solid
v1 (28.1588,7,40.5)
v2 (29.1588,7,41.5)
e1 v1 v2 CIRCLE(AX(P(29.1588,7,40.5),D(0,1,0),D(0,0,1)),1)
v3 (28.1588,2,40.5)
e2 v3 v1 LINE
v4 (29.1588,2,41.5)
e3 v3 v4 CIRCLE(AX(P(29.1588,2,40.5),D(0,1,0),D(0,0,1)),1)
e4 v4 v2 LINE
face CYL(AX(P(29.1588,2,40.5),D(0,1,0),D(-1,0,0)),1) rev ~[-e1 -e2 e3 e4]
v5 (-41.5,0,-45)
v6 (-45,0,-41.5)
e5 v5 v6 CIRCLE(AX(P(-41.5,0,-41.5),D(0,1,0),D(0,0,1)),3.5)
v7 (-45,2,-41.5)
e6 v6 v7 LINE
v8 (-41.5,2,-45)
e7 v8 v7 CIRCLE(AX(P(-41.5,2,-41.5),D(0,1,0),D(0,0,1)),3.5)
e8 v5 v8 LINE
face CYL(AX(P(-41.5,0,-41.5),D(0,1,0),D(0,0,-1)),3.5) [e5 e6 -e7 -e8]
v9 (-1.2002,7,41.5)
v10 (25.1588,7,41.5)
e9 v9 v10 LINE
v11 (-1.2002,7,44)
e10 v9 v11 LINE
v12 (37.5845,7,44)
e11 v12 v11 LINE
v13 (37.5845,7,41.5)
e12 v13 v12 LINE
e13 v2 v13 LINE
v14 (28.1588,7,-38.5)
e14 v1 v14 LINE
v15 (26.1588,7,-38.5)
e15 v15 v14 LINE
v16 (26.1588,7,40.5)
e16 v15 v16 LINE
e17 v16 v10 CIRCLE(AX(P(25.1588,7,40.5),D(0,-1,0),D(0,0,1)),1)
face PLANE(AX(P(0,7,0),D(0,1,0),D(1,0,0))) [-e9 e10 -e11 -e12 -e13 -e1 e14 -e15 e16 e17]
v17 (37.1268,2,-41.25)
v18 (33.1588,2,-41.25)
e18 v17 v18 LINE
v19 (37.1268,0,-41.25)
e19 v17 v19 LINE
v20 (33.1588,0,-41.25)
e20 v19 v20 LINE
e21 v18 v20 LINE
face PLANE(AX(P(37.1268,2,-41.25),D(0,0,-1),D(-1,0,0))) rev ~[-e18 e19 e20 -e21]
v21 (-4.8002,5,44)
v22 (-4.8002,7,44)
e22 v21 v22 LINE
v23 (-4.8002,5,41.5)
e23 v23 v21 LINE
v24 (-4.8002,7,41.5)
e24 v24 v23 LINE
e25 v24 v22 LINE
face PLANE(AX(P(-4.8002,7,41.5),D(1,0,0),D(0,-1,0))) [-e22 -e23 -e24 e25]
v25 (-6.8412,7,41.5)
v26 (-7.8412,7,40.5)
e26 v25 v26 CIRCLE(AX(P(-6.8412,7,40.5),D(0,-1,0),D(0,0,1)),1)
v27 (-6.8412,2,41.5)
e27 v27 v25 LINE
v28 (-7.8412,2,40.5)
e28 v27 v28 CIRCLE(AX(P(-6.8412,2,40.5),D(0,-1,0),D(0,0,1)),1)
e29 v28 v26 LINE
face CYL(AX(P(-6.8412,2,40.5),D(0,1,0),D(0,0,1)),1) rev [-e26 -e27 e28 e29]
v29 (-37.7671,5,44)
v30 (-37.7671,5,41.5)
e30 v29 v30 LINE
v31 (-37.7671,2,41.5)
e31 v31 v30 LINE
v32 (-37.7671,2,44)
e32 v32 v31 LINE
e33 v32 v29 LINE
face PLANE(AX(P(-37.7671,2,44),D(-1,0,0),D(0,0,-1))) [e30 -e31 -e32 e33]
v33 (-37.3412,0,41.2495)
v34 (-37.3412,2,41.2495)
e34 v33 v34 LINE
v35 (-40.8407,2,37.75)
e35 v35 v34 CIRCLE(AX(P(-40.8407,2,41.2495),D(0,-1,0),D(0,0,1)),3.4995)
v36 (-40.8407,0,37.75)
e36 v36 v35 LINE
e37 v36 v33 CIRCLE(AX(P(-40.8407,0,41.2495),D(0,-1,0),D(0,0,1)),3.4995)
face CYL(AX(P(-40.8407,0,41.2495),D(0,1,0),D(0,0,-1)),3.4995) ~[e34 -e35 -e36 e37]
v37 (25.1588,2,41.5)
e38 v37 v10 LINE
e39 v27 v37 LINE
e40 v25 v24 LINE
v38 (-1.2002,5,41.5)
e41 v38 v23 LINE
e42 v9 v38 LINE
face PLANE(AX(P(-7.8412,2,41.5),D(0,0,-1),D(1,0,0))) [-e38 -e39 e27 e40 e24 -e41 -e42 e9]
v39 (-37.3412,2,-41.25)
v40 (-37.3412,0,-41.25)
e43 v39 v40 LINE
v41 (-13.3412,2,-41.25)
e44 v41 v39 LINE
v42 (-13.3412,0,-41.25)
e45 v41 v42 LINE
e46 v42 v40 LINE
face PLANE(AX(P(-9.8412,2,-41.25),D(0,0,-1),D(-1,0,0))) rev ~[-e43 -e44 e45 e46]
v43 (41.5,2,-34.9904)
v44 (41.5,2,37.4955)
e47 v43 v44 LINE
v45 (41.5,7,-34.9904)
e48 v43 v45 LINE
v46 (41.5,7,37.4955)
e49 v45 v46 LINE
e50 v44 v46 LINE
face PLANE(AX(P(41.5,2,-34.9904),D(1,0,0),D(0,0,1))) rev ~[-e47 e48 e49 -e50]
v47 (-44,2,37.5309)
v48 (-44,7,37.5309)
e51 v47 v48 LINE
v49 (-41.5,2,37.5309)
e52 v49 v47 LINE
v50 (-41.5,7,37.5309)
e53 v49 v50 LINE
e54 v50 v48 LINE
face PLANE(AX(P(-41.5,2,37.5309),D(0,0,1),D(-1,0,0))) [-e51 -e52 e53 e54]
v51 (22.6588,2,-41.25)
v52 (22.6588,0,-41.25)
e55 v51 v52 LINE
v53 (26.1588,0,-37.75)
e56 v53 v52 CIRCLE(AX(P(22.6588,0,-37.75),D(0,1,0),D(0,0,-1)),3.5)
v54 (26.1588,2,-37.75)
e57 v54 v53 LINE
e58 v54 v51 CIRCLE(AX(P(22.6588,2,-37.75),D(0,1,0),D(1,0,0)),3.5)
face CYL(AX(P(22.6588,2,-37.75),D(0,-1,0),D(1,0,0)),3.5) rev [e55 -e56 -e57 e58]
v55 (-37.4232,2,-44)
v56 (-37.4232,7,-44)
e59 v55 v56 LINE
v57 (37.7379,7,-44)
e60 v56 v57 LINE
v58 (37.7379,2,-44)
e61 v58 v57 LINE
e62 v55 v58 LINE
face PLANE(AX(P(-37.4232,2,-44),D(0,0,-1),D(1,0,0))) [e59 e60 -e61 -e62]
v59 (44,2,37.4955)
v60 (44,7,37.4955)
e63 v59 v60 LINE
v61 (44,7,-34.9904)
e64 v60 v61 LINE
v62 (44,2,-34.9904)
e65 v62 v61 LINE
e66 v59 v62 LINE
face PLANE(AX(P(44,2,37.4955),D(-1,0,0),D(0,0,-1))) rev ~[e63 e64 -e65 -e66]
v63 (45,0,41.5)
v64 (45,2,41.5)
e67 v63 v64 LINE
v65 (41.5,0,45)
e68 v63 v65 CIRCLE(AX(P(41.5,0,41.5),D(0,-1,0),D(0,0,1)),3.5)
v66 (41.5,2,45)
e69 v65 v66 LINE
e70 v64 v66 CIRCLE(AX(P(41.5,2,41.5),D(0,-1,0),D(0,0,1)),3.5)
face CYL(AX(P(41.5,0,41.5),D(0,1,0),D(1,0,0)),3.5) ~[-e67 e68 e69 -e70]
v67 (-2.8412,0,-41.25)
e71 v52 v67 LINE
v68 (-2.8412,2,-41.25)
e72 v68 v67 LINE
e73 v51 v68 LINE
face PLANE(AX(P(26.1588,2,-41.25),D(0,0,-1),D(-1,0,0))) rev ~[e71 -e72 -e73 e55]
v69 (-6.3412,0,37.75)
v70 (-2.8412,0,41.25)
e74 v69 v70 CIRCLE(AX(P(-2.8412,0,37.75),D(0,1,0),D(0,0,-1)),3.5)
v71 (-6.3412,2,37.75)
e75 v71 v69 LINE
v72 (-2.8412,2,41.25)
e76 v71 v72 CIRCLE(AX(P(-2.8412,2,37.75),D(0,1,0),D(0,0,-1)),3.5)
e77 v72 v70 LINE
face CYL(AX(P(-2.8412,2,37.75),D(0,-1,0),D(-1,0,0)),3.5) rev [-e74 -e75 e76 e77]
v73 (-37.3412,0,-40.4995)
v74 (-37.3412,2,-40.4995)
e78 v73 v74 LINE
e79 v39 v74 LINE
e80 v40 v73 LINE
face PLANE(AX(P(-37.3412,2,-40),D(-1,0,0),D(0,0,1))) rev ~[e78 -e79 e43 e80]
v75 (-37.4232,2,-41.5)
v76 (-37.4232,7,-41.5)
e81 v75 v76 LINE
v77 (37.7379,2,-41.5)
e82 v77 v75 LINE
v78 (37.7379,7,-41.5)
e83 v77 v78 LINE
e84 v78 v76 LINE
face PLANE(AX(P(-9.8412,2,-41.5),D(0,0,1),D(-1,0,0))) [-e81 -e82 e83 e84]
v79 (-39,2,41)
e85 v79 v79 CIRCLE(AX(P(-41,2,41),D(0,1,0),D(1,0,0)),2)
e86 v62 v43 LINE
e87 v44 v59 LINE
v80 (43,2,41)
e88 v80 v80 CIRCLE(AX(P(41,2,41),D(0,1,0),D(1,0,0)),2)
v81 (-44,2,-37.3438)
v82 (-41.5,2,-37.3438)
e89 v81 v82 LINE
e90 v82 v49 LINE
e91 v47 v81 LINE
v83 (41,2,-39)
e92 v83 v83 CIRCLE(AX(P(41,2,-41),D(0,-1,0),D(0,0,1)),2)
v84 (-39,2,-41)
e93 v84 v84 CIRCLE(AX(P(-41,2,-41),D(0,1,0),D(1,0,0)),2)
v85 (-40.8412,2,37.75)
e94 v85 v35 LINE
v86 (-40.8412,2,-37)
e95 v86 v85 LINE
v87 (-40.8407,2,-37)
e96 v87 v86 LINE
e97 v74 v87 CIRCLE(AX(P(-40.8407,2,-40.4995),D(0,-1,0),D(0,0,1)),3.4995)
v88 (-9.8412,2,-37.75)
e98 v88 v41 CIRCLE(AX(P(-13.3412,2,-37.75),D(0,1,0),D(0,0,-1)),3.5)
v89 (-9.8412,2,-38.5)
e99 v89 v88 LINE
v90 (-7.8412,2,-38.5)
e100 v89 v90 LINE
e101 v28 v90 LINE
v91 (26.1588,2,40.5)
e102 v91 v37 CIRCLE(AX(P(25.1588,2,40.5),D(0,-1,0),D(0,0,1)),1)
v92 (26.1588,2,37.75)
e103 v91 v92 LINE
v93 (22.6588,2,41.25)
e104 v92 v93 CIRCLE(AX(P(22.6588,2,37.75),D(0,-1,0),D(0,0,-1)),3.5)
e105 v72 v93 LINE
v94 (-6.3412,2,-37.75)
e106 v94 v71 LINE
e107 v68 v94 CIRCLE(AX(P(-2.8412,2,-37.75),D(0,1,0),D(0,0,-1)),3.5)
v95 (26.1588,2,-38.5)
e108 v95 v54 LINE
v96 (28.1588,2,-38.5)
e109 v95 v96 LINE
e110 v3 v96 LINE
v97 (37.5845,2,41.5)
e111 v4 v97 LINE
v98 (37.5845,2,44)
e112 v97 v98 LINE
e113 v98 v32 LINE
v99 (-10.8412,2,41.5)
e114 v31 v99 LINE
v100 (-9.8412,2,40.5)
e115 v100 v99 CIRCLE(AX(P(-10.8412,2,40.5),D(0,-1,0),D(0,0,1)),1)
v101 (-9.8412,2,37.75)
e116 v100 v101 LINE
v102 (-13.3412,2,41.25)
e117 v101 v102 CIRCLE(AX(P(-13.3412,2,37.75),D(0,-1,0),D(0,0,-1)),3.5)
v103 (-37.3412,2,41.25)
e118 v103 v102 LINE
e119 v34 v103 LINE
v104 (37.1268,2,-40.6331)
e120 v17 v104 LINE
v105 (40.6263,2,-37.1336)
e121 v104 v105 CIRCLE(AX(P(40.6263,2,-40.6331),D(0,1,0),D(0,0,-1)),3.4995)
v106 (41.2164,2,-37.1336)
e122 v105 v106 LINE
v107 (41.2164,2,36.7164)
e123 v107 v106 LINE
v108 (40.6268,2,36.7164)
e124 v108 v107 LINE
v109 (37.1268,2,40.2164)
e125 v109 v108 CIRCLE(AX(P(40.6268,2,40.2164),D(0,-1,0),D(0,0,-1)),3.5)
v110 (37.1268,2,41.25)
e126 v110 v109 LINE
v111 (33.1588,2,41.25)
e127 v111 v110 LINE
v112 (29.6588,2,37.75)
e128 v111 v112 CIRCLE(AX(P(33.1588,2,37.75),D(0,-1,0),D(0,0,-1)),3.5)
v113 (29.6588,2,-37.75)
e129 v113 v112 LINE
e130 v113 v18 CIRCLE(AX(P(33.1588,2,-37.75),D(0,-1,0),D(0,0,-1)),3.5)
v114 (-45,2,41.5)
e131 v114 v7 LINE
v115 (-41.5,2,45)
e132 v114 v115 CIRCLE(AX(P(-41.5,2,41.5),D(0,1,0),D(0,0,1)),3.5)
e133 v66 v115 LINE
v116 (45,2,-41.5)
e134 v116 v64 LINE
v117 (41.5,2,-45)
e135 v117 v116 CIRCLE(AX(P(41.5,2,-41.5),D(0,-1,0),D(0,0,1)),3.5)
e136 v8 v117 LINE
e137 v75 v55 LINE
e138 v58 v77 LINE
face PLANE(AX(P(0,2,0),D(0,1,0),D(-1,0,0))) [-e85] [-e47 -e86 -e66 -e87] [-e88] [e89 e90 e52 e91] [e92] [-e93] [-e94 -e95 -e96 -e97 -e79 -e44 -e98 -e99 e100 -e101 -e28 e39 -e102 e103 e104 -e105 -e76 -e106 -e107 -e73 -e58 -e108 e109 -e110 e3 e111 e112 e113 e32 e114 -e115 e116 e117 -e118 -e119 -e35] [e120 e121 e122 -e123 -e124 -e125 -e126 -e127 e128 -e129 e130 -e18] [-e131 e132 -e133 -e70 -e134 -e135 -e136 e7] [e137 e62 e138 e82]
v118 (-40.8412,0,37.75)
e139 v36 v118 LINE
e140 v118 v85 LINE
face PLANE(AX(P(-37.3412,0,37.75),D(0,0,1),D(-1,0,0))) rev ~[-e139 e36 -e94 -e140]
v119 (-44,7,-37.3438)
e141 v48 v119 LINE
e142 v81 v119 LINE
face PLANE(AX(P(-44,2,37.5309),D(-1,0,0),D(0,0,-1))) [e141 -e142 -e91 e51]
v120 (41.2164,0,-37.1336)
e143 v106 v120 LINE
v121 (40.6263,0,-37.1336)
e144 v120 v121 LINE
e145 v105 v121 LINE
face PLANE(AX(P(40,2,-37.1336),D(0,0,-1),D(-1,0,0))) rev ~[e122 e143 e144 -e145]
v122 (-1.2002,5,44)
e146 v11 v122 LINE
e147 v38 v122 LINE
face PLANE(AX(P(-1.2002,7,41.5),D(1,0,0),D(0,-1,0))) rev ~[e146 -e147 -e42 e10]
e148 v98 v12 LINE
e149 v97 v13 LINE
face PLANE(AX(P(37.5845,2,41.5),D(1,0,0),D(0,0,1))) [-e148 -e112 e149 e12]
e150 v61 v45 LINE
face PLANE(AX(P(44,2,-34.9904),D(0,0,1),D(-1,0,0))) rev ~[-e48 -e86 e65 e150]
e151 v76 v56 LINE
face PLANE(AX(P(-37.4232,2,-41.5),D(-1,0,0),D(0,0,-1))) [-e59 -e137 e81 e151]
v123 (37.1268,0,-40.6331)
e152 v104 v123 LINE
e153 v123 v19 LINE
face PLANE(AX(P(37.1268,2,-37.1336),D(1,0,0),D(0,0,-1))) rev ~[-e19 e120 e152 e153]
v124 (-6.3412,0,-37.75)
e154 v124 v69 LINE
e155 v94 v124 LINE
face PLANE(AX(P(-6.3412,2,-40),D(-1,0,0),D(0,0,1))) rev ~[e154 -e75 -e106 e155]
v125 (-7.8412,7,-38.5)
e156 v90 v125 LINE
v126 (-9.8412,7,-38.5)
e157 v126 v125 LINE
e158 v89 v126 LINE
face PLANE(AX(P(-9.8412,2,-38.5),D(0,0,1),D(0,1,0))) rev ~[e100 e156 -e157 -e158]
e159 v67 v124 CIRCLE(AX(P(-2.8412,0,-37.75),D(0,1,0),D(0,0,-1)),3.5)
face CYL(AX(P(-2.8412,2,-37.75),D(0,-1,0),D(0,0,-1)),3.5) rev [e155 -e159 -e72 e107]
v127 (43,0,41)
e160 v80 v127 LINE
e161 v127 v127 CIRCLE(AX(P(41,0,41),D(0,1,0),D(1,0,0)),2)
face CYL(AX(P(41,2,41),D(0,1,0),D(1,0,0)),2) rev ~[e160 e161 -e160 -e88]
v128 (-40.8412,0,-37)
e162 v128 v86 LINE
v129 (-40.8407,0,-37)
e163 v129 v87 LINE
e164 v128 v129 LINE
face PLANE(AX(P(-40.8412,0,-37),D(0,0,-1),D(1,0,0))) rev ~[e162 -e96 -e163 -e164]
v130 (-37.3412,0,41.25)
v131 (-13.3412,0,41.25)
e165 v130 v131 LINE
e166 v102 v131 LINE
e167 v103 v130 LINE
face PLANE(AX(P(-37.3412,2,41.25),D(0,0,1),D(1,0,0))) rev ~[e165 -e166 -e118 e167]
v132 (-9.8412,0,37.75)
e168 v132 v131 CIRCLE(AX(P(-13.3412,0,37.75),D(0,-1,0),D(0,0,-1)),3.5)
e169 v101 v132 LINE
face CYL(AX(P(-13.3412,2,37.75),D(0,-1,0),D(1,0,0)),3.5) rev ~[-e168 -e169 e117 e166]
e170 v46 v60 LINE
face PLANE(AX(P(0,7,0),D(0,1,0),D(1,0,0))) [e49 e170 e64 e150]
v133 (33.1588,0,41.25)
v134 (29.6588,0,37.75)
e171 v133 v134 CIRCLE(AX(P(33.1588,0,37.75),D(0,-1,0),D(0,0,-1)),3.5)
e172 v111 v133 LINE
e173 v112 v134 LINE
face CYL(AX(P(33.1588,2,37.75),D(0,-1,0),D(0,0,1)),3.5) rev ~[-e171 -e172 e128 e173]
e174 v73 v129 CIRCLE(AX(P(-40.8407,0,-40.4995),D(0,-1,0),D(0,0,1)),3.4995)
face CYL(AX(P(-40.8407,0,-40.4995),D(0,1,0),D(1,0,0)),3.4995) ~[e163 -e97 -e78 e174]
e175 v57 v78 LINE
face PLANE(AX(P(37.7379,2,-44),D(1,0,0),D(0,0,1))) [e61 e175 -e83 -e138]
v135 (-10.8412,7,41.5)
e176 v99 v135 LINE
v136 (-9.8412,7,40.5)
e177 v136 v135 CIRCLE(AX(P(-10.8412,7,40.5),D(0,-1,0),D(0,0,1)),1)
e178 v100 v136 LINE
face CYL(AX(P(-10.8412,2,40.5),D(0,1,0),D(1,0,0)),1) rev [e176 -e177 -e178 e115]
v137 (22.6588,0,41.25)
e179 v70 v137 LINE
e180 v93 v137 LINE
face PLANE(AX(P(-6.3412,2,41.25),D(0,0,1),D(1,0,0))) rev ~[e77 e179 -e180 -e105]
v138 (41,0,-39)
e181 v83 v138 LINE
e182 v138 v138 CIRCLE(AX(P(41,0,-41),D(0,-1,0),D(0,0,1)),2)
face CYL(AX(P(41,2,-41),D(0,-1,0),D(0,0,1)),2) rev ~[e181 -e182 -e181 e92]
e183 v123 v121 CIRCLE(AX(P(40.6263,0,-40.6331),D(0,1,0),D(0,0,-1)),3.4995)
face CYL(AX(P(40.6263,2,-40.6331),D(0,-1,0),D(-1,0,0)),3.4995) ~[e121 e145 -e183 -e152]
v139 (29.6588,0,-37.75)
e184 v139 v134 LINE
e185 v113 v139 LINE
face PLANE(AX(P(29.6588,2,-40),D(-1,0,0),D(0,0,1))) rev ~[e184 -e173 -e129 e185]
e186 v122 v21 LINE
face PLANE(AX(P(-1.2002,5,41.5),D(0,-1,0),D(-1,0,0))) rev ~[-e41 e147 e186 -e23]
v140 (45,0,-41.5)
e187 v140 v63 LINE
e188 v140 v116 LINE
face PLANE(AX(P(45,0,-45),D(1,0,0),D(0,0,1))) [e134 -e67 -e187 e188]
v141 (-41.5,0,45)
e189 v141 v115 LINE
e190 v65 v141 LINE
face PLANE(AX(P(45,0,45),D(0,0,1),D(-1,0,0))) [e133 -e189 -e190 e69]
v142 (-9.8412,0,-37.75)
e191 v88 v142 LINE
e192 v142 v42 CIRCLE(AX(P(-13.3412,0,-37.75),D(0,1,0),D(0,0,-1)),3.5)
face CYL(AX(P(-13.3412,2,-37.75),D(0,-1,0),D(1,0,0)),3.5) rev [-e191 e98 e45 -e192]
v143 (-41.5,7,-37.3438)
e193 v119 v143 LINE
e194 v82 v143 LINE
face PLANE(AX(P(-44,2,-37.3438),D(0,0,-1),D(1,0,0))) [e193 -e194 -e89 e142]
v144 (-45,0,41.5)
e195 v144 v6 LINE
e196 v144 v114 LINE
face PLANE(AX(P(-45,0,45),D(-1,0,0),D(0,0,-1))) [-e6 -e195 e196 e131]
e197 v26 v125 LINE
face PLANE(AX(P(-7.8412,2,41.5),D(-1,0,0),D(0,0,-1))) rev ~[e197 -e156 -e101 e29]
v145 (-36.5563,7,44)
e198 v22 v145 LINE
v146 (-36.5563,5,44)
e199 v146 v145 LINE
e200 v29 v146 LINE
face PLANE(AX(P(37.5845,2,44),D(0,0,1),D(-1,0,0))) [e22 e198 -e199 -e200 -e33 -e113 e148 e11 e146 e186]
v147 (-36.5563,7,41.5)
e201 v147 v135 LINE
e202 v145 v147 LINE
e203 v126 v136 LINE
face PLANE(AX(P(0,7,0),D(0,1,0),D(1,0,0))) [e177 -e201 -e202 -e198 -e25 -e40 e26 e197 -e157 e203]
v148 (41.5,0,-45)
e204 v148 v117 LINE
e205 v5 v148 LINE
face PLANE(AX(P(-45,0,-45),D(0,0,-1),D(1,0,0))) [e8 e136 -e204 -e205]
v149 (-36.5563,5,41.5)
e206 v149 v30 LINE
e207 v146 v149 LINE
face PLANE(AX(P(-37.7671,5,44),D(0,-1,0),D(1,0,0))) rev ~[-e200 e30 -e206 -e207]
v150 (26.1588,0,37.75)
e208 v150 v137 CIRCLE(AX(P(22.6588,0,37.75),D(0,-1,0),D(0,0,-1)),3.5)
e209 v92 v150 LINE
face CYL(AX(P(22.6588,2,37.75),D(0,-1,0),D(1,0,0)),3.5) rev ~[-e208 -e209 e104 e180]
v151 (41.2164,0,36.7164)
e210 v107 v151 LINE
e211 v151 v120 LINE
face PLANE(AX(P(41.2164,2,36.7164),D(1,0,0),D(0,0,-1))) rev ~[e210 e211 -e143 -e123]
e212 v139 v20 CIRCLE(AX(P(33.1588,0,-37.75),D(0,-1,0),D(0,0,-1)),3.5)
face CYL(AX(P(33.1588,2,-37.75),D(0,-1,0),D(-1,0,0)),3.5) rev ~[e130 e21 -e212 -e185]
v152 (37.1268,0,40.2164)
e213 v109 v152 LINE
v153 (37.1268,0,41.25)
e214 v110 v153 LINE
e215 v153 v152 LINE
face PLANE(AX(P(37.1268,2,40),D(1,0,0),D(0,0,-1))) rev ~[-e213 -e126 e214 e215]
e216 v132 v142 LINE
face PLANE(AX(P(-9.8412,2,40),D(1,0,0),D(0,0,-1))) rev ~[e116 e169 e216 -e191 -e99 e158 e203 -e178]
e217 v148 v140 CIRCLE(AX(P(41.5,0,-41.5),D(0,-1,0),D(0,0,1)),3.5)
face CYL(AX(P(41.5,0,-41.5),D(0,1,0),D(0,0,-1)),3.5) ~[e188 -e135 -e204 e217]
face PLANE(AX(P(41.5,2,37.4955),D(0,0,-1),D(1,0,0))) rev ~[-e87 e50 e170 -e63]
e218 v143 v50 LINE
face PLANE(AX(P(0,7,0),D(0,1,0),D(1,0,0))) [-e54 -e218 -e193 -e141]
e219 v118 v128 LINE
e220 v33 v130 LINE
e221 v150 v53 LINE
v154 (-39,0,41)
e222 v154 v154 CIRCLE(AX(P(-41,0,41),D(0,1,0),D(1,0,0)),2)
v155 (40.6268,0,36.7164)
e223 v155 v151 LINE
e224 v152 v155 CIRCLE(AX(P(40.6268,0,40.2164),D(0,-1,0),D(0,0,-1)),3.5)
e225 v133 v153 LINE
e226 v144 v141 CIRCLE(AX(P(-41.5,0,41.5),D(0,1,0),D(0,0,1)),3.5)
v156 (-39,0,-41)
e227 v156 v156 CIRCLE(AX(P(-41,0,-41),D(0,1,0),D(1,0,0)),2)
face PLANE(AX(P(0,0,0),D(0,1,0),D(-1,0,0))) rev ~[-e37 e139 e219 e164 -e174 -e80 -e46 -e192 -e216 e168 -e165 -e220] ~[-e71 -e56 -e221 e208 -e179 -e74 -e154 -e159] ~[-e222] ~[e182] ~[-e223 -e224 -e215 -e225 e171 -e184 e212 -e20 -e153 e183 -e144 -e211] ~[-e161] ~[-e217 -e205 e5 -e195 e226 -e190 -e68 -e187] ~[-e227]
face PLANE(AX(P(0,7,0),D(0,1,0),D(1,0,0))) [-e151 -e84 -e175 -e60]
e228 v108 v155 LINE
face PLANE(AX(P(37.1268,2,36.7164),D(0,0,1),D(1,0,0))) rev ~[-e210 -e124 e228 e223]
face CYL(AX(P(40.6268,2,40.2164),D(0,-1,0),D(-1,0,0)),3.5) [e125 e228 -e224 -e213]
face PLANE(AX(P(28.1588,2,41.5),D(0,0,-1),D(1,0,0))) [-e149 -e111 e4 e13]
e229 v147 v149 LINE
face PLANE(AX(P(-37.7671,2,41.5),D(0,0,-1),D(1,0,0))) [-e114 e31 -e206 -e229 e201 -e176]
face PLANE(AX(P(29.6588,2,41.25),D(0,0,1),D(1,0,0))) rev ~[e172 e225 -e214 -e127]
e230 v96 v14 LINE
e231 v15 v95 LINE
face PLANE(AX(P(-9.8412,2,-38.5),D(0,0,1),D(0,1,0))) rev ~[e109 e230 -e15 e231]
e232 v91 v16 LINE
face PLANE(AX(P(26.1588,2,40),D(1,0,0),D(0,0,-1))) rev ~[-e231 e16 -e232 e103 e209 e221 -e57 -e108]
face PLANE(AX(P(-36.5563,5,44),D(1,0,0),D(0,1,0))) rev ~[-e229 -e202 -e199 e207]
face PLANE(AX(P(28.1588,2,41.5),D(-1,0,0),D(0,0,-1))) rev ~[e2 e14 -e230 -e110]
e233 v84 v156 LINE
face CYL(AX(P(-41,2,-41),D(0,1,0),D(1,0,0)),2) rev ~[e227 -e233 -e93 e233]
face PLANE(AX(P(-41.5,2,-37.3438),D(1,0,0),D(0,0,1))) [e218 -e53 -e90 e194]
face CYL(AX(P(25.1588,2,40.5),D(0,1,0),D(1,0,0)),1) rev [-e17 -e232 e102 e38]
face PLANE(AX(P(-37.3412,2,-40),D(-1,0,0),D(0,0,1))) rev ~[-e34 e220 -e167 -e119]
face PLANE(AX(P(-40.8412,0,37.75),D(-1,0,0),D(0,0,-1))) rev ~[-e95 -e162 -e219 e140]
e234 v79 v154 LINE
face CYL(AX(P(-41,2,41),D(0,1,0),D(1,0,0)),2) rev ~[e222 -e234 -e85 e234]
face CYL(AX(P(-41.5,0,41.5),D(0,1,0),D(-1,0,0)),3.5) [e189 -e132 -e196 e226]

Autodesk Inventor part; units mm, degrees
ref_plane "YZ Plane" through (0, 0, 0) normal (1, 0, 0) x (0, 1, 0)
ref_plane "XZ Plane" through (0, 0, 0) normal (0, 1, 0) x (-1, 0, 0)
ref_plane "XY Plane" through (0, 0, 0) normal (0, 0, 1) x (1, 0, 0)
sketch "Sketch1" plane through (0, 0, 0) normal (0, 1, 0) x (-1, 0, 0)
  line L0 (45, -45) -> (-45, -45)
  line L1 (-45, -45) -> (-45, 45)
  line L2 (-45, 45) -> (45, 45)
  line L3 (45, 45) -> (45, -45)
  line L4 (45, -45) -> (-45, 45) construction
  line L5 (-45, -45) -> (45, 45) construction
  point P0 (0, 0)
  dimension "d2" = 90
  dimension "d3" = 90
extrude "Extrusion1" add sketch "Sketch1" along normal blind 2
sketch "Sketch2" plane through (0, 2, 0) normal (0, 1, 0) x (1, 0, 0)
  line L0 (45, -45) -> (45, 45) projected
  line L1 (45, 45) -> (41, 45)
  line L2 (45, 45) -> (-45, 45) projected
  circle A0 centre (41, 41) radius 2
  point P0 (0, 0)
hole "Hole1" at (41, 2, -41) direction (0, -1, 0) diameter 4 end through all
sketch "Sketch3" plane through (0, 2, 0) normal (0, 1, 0) x (1, 0, 0)
  circle A0 centre (-41, 41) radius 2
  line L0 (-45, 45) -> (-45, -45) projected
  circle A1 centre (-41, -41) radius 2
  line L1 (45, -45) -> (45, 45) projected
  circle A2 centre (41, -41) radius 2
  point P0 (0, 0)
  dimension "d17" = 4
  dimension "d21" = 4
extrude "Extrusion2" cut sketch "Sketch3" against normal blind 2
fillet "Fillet1" radius 3.5 4 edges at (-45, 1, -45) (45, 1, -45) (45, 1, 45) (-45, 1, 45)
sketch "Sketch5" plane through (0, 2, 0) normal (0, 1, 0) x (1, 0, 0)
  line L0 (40, 40) -> (-40, 40)
  line L1 (-40, 40) -> (-40, -40)
  line L2 (-40, -40) -> (40, -40)
  line L3 (40, -40) -> (40, 40)
  line L4 (40, 40) -> (-40, -40) construction
  line L5 (-40, 40) -> (40, -40) construction
  line L6 (-9.8412, 41.25) -> (-37.3412, 41.25)
  line L7 (-37.3412, 41.25) -> (-37.3412, -41.25)
  line L8 (-37.3412, -41.25) -> (-9.8412, -41.25)
  line L9 (-9.8412, -41.25) -> (-9.8412, 41.25)
  line L10 (-9.8412, 41.25) -> (-37.3412, -41.25) construction
  line L11 (-37.3412, 41.25) -> (-9.8412, -41.25) construction
  line L12 (26.1588, 41.25) -> (-6.3412, 41.25)
  line L13 (-6.3412, 41.25) -> (-6.3412, -41.25)
  line L14 (-6.3412, -41.25) -> (26.1588, -41.25)
  line L15 (26.1588, -41.25) -> (26.1588, 41.25)
  line L16 (26.1588, 41.25) -> (-6.3412, -41.25) construction
  line L17 (-6.3412, 41.25) -> (26.1588, -41.25) construction
  line L18 (37.1268, 41.25) -> (29.6588, 41.25)
  line L19 (29.6588, 41.25) -> (29.6588, -41.25)
  line L20 (29.6588, -41.25) -> (37.1268, -41.25)
  line L21 (37.1268, -41.25) -> (37.1268, 41.25)
  line L22 (37.1268, 41.25) -> (29.6588, -41.25) construction
  line L23 (29.6588, 41.25) -> (37.1268, -41.25) construction
  line L24 (-41.5049, 41.25) -> (-37.5049, 41.25)
  line L25 (41.2164, 37.1336) -> (36.7164, 37.1336)
  line L26 (36.7164, 37.1336) -> (36.7164, -36.7164)
  line L27 (36.7164, -36.7164) -> (41.2164, -36.7164)
  line L28 (41.2164, -36.7164) -> (41.2164, 37.1336)
  line L29 (41.2164, 37.1336) -> (36.7164, -36.7164) construction
  line L30 (36.7164, 37.1336) -> (41.2164, -36.7164) construction
  line L31 (37.1268, 41.25) -> (41.1268, 41.25)
  line L32 (41.1268, 41.25) -> (41.1268, 37.25)
  point P0 (0, 0)
  point P1 (-23.5912, 0)
  point P2 (9.9088, 0)
  point P3 (33.3928, 0)
  point P4 (38.9664, 0.2086)
  point P5 (37.1268, 37.1336)
  point P6 (37.1268, 40)
  point P7 (29.6588, 40)
  point P8 (29.6588, -40)
  point P9 (37.1268, -40)
  point P10 (37.1268, -36.7164)
  dimension "d25" = 80
  dimension "d26" = 80
  dimension "d27" = 27.5
  dimension "d28" = 82.5
  dimension "d29" = 32.5
  dimension "d30" = 82.5
  dimension "d31" = 7.468
  dimension "d32" = 82.5
  dimension "d33" = 4
  dimension "d34" = 3.5
  dimension "d35" = 3.5
  dimension "d36" = 4.5
  dimension "d37" = 4
  dimension "d38" = 4
  dimension "d39" = 73.85
extrude "Extrusion4" cut sketch "Sketch5" against normal through all contours L21 L25 L26 L27 L2 L19 L0 | L0 L19 L18 L21 | L25 L28 L27 L3 | L3 L27 L21 L25 | L21 L27 L26 L25 | L15 L2 L13 L0 | L0 L13 L12 L15 | L2 L21 L20 L19 | L15 L14 L13 L2 | L9 L2 L7 L0 | L0 L7 L6 L9 | L9 L8 L7 L2
sketch "Sketch8" plane through (0, 2, 0) normal (0, 1, 0) x (1, 0, 0)
  line L0 (-45, 41.5) -> (-45, -41.5) projected
  line L1 (-45, 41.5) -> (-44, 41.5)
  line L2 (41.5, 45) -> (-41.5, 45) projected
  line L3 (-41.5, 45) -> (-41.5, 44)
  line L4 (-45, -41.5) -> (-44, -41.5)
  arc A0 (-45, -41.5) -> (-41.5, -45) centre (-41.5, -41.5) ccw projected
  line L5 (-41.5, -45) -> (-41.5, -44)
  line L6 (41.5, -45) -> (41.5, -44)
  arc A1 (41.5, -45) -> (45, -41.5) centre (41.5, -41.5) ccw projected
  line L7 (45, -41.5) -> (44, -41.5)
  arc A2 (45, 41.5) -> (41.5, 45) centre (41.5, 41.5) ccw projected
  circle A3 centre (-41, -41) radius 2 projected
  line L8 (-41, -39) -> (-41, -38)
  line L9 (-39, -41) -> (-38, -41)
  circle A4 centre (-41, 41) radius 2 projected
  line L10 (-39, 41) -> (-38, 41)
  line L11 (-41, 39) -> (-41, 38)
  circle A5 centre (41, 41) radius 2 projected
  line L12 (37.1268, 41.25) -> (37.1268, 37.1336) projected
  circle A6 centre (41, -41) radius 2 projected
  line L13 (41, -39) -> (41, -38)
  line L14 (39, -41) -> (38, -41)
  line L15 (-44, 37.3438) -> (-41.5, 37.3438)
  line L16 (-41.5, 37.3438) -> (-41.5, -37.5309)
  line L17 (-41.5, -37.5309) -> (-44, -37.5309)
  line L18 (-44, -37.5309) -> (-44, 37.3438)
  line L19 (37.5845, -44) -> (-37.7671, -44)
  line L20 (-37.7671, -44) -> (-37.7671, -41.5)
  line L21 (-37.7671, -41.5) -> (37.5845, -41.5)
  line L22 (37.5845, -41.5) -> (37.5845, -44)
  line L23 (44, 34.9904) -> (41.5, 34.9904)
  line L24 (41.5, 34.9904) -> (41.5, -37.4955)
  line L25 (41.5, -37.4955) -> (44, -37.4955)
  line L26 (44, -37.4955) -> (44, 34.9904)
  line L27 (-37.4232, 44) -> (37.7379, 44)
  line L28 (37.7379, 44) -> (37.7379, 41.5)
  line L29 (37.7379, 41.5) -> (-37.4232, 41.5)
  line L30 (-37.4232, 41.5) -> (-37.4232, 44)
  line L31 (26.1588, -41.5) -> (28.1588, -41.5)
  line L32 (28.1588, -41.5) -> (28.1588, 41.5)
  line L33 (28.1588, 41.5) -> (26.1588, 41.5)
  line L34 (26.1588, 41.5) -> (26.1588, -41.5)
  line L35 (-9.8412, -41.5) -> (-7.8412, -41.5)
  line L36 (-7.8412, -41.5) -> (-7.8412, 41.5)
  line L37 (-7.8412, 41.5) -> (-9.8412, 41.5)
  line L38 (-9.8412, 41.5) -> (-9.8412, -41.5)
  point P0 (0, 0)
  dimension "d46" = 1
  dimension "d47" = 1
  dimension "d48" = 1
  dimension "d49" = 1
  dimension "d50" = 1
  dimension "d51" = 1
  dimension "d54" = 1
  dimension "d55" = 1
  dimension "d56" = 1
  dimension "d57" = 1
  dimension "d60" = 1
  dimension "d61" = 1
  dimension "d63" = 2.5
  dimension "d64" = 2.5
  dimension "d65" = 2.5
  dimension "d72" = 2
  dimension "d73" = 2
extrude "Extrusion5" add sketch "Sketch8" along normal blind 5 contours L15 L16 L17 L18 | L19 L20 L21 L22 | L21 L34 L29 L32 | L38 L29 L36 L21 | L29 L30 L27 L28 | L26 L25 L24 L23
fillet "Fillet3" radius 3.5 1 edges at (37.1268, 1, 36.7164)
fillet "Fillet4" radius 3.5 8 edges at (-6.3412, 1, 41.25) (-6.3412, 1, -41.25) (29.6588, 1, -41.25) (29.6588, 1, 41.25) (26.1588, 1, -41.25) (-9.8412, 1, -41.25) (26.1588, 1, 41.25) (-9.8412, 1, 41.25)
fillet "Fillet7" radius 1 4 edges at (-7.8412, 4.5, 41.5) (28.1588, 4.5, 41.5) (26.1588, 4.5, 41.5) (-9.8412, 4.5, 41.5)
sketch "Sketch10" plane through (0, 0, 0) normal (0, -1, 0) x (1, 0, 0)
  line L0 (-37.3412, -41.25) -> (-37.3412, 41.25) projected
  line L1 (-37.3412, 37.75) -> (-40.8412, 37.75)
  line L2 (-40.8412, 37.75) -> (-40.8412, -37)
  line L3 (-40.8412, -37) -> (-37.3412, -37)
  line L4 (-37.3412, -37) -> (-37.3412, 37.75)
  point P0 (0, 0)
  point P1 (-37.3412, -37.75)
  dimension "d78" = 3.5
extrude "Extrusion6" cut sketch "Sketch10" against normal through all
fillet "Fillet8" radius 3.5 1 edges at (-37.3412, 1, -37)
fillet "Fillet11" radius 3.5 2 edges at (37.1268, 1, -37.1336) (-37.3412, 1, 37.75)
sketch "Sketch19" plane through (-37.7671, 2, 44) normal (0, 0, 1) x (1, 0, 0)
  line L0 (75.3516, 0) -> (0, 0) projected
  line L1 (0, 5) -> (75.3516, 5) projected
  line L2 (0, 0) -> (0, 5) projected
  line L3 (0, 5) -> (0, 3)
  line L4 (0, 3) -> (1.2108, 3)
  line L5 (1.2108, 3) -> (1.2108, 5)
  line L6 (1.2108, 5) -> (0, 5)
  line L7 (0, 5) -> (0, 3)
  point P0 (37.7671, -2)
  dimension "d90" = 2
  dimension "d106" = 1.2108
extrude "Extrusion7" cut sketch "Sketch19" against normal blind 3
sketch "Sketch21" plane through (25.1588, 2, 41.5) normal (0, 0, -1) x (-1, 0, 0)
  line L0 (32, 0) -> (0, 0) projected
  line L1 (0, 5) -> (32, 5) projected
  line L2 (28.159, 5) -> (29.959, 5)
  line L3 (29.959, 5) -> (29.959, 4)
  line L4 (28.159, 5) -> (26.359, 5)
  line L5 (29.959, 5) -> (26.359, 5)
  line L6 (26.359, 5) -> (26.359, 3)
  line L7 (26.359, 3) -> (29.959, 3)
  line L8 (29.959, 3) -> (29.959, 5)
  point P0 (25.1588, -2)
  point P1 (29.959, 4)
  dimension "d102" = 1.8
  dimension "d103" = 1
  dimension "d104" = 1.8
  dimension "d105" = 2
extrude "Extrusion8" cut sketch "Sketch21" against normal up to surface (2.5 mm away)
sketch "Sketch22" plane through (-9.8412, 2, -41.5) normal (-1, 0, 0) x (0, 0, 1)
  line L0 (0, 5) -> (82, 5) projected
  line L1 (0, 5) -> (3, 5)
  line L2 (3.75, 0) -> (0, 0) projected
  line L3 (3, 5) -> (0, 5)
  line L4 (0, 5) -> (0, 0)
  line L5 (0, 0) -> (3, 0)
  line L6 (3, 0) -> (3, 5)
  point P0 (41.5, -2)
  point P1 (3, 0)
  dimension "d98" = 3
extrude "Extrusion9" cut sketch "Sketch22" against normal up to surface (38 mm away)
sketch "Sketch23" plane through (-37.7671, 2, 44) normal (0, 0, 1) x (1, 0, 0)
  line L0 (33.7518, 5) -> (31.9518, 5)
  line L1 (36.5669, 5) -> (75.3516, 5) projected
  line L2 (31.9518, 5) -> (31.9518, 3.1171)
  point P0 (37.7671, -2)
  point P1 (0.3379, 5)
  dimension "d101" = 1.8
sketch "Sketch24" plane through (-37.7671, 2, 44) normal (0, 0, 1) x (1, 0, 0)
  point P0 (37.7671, -2)
properties part number "LeftCover" material "ABS Plastic"
